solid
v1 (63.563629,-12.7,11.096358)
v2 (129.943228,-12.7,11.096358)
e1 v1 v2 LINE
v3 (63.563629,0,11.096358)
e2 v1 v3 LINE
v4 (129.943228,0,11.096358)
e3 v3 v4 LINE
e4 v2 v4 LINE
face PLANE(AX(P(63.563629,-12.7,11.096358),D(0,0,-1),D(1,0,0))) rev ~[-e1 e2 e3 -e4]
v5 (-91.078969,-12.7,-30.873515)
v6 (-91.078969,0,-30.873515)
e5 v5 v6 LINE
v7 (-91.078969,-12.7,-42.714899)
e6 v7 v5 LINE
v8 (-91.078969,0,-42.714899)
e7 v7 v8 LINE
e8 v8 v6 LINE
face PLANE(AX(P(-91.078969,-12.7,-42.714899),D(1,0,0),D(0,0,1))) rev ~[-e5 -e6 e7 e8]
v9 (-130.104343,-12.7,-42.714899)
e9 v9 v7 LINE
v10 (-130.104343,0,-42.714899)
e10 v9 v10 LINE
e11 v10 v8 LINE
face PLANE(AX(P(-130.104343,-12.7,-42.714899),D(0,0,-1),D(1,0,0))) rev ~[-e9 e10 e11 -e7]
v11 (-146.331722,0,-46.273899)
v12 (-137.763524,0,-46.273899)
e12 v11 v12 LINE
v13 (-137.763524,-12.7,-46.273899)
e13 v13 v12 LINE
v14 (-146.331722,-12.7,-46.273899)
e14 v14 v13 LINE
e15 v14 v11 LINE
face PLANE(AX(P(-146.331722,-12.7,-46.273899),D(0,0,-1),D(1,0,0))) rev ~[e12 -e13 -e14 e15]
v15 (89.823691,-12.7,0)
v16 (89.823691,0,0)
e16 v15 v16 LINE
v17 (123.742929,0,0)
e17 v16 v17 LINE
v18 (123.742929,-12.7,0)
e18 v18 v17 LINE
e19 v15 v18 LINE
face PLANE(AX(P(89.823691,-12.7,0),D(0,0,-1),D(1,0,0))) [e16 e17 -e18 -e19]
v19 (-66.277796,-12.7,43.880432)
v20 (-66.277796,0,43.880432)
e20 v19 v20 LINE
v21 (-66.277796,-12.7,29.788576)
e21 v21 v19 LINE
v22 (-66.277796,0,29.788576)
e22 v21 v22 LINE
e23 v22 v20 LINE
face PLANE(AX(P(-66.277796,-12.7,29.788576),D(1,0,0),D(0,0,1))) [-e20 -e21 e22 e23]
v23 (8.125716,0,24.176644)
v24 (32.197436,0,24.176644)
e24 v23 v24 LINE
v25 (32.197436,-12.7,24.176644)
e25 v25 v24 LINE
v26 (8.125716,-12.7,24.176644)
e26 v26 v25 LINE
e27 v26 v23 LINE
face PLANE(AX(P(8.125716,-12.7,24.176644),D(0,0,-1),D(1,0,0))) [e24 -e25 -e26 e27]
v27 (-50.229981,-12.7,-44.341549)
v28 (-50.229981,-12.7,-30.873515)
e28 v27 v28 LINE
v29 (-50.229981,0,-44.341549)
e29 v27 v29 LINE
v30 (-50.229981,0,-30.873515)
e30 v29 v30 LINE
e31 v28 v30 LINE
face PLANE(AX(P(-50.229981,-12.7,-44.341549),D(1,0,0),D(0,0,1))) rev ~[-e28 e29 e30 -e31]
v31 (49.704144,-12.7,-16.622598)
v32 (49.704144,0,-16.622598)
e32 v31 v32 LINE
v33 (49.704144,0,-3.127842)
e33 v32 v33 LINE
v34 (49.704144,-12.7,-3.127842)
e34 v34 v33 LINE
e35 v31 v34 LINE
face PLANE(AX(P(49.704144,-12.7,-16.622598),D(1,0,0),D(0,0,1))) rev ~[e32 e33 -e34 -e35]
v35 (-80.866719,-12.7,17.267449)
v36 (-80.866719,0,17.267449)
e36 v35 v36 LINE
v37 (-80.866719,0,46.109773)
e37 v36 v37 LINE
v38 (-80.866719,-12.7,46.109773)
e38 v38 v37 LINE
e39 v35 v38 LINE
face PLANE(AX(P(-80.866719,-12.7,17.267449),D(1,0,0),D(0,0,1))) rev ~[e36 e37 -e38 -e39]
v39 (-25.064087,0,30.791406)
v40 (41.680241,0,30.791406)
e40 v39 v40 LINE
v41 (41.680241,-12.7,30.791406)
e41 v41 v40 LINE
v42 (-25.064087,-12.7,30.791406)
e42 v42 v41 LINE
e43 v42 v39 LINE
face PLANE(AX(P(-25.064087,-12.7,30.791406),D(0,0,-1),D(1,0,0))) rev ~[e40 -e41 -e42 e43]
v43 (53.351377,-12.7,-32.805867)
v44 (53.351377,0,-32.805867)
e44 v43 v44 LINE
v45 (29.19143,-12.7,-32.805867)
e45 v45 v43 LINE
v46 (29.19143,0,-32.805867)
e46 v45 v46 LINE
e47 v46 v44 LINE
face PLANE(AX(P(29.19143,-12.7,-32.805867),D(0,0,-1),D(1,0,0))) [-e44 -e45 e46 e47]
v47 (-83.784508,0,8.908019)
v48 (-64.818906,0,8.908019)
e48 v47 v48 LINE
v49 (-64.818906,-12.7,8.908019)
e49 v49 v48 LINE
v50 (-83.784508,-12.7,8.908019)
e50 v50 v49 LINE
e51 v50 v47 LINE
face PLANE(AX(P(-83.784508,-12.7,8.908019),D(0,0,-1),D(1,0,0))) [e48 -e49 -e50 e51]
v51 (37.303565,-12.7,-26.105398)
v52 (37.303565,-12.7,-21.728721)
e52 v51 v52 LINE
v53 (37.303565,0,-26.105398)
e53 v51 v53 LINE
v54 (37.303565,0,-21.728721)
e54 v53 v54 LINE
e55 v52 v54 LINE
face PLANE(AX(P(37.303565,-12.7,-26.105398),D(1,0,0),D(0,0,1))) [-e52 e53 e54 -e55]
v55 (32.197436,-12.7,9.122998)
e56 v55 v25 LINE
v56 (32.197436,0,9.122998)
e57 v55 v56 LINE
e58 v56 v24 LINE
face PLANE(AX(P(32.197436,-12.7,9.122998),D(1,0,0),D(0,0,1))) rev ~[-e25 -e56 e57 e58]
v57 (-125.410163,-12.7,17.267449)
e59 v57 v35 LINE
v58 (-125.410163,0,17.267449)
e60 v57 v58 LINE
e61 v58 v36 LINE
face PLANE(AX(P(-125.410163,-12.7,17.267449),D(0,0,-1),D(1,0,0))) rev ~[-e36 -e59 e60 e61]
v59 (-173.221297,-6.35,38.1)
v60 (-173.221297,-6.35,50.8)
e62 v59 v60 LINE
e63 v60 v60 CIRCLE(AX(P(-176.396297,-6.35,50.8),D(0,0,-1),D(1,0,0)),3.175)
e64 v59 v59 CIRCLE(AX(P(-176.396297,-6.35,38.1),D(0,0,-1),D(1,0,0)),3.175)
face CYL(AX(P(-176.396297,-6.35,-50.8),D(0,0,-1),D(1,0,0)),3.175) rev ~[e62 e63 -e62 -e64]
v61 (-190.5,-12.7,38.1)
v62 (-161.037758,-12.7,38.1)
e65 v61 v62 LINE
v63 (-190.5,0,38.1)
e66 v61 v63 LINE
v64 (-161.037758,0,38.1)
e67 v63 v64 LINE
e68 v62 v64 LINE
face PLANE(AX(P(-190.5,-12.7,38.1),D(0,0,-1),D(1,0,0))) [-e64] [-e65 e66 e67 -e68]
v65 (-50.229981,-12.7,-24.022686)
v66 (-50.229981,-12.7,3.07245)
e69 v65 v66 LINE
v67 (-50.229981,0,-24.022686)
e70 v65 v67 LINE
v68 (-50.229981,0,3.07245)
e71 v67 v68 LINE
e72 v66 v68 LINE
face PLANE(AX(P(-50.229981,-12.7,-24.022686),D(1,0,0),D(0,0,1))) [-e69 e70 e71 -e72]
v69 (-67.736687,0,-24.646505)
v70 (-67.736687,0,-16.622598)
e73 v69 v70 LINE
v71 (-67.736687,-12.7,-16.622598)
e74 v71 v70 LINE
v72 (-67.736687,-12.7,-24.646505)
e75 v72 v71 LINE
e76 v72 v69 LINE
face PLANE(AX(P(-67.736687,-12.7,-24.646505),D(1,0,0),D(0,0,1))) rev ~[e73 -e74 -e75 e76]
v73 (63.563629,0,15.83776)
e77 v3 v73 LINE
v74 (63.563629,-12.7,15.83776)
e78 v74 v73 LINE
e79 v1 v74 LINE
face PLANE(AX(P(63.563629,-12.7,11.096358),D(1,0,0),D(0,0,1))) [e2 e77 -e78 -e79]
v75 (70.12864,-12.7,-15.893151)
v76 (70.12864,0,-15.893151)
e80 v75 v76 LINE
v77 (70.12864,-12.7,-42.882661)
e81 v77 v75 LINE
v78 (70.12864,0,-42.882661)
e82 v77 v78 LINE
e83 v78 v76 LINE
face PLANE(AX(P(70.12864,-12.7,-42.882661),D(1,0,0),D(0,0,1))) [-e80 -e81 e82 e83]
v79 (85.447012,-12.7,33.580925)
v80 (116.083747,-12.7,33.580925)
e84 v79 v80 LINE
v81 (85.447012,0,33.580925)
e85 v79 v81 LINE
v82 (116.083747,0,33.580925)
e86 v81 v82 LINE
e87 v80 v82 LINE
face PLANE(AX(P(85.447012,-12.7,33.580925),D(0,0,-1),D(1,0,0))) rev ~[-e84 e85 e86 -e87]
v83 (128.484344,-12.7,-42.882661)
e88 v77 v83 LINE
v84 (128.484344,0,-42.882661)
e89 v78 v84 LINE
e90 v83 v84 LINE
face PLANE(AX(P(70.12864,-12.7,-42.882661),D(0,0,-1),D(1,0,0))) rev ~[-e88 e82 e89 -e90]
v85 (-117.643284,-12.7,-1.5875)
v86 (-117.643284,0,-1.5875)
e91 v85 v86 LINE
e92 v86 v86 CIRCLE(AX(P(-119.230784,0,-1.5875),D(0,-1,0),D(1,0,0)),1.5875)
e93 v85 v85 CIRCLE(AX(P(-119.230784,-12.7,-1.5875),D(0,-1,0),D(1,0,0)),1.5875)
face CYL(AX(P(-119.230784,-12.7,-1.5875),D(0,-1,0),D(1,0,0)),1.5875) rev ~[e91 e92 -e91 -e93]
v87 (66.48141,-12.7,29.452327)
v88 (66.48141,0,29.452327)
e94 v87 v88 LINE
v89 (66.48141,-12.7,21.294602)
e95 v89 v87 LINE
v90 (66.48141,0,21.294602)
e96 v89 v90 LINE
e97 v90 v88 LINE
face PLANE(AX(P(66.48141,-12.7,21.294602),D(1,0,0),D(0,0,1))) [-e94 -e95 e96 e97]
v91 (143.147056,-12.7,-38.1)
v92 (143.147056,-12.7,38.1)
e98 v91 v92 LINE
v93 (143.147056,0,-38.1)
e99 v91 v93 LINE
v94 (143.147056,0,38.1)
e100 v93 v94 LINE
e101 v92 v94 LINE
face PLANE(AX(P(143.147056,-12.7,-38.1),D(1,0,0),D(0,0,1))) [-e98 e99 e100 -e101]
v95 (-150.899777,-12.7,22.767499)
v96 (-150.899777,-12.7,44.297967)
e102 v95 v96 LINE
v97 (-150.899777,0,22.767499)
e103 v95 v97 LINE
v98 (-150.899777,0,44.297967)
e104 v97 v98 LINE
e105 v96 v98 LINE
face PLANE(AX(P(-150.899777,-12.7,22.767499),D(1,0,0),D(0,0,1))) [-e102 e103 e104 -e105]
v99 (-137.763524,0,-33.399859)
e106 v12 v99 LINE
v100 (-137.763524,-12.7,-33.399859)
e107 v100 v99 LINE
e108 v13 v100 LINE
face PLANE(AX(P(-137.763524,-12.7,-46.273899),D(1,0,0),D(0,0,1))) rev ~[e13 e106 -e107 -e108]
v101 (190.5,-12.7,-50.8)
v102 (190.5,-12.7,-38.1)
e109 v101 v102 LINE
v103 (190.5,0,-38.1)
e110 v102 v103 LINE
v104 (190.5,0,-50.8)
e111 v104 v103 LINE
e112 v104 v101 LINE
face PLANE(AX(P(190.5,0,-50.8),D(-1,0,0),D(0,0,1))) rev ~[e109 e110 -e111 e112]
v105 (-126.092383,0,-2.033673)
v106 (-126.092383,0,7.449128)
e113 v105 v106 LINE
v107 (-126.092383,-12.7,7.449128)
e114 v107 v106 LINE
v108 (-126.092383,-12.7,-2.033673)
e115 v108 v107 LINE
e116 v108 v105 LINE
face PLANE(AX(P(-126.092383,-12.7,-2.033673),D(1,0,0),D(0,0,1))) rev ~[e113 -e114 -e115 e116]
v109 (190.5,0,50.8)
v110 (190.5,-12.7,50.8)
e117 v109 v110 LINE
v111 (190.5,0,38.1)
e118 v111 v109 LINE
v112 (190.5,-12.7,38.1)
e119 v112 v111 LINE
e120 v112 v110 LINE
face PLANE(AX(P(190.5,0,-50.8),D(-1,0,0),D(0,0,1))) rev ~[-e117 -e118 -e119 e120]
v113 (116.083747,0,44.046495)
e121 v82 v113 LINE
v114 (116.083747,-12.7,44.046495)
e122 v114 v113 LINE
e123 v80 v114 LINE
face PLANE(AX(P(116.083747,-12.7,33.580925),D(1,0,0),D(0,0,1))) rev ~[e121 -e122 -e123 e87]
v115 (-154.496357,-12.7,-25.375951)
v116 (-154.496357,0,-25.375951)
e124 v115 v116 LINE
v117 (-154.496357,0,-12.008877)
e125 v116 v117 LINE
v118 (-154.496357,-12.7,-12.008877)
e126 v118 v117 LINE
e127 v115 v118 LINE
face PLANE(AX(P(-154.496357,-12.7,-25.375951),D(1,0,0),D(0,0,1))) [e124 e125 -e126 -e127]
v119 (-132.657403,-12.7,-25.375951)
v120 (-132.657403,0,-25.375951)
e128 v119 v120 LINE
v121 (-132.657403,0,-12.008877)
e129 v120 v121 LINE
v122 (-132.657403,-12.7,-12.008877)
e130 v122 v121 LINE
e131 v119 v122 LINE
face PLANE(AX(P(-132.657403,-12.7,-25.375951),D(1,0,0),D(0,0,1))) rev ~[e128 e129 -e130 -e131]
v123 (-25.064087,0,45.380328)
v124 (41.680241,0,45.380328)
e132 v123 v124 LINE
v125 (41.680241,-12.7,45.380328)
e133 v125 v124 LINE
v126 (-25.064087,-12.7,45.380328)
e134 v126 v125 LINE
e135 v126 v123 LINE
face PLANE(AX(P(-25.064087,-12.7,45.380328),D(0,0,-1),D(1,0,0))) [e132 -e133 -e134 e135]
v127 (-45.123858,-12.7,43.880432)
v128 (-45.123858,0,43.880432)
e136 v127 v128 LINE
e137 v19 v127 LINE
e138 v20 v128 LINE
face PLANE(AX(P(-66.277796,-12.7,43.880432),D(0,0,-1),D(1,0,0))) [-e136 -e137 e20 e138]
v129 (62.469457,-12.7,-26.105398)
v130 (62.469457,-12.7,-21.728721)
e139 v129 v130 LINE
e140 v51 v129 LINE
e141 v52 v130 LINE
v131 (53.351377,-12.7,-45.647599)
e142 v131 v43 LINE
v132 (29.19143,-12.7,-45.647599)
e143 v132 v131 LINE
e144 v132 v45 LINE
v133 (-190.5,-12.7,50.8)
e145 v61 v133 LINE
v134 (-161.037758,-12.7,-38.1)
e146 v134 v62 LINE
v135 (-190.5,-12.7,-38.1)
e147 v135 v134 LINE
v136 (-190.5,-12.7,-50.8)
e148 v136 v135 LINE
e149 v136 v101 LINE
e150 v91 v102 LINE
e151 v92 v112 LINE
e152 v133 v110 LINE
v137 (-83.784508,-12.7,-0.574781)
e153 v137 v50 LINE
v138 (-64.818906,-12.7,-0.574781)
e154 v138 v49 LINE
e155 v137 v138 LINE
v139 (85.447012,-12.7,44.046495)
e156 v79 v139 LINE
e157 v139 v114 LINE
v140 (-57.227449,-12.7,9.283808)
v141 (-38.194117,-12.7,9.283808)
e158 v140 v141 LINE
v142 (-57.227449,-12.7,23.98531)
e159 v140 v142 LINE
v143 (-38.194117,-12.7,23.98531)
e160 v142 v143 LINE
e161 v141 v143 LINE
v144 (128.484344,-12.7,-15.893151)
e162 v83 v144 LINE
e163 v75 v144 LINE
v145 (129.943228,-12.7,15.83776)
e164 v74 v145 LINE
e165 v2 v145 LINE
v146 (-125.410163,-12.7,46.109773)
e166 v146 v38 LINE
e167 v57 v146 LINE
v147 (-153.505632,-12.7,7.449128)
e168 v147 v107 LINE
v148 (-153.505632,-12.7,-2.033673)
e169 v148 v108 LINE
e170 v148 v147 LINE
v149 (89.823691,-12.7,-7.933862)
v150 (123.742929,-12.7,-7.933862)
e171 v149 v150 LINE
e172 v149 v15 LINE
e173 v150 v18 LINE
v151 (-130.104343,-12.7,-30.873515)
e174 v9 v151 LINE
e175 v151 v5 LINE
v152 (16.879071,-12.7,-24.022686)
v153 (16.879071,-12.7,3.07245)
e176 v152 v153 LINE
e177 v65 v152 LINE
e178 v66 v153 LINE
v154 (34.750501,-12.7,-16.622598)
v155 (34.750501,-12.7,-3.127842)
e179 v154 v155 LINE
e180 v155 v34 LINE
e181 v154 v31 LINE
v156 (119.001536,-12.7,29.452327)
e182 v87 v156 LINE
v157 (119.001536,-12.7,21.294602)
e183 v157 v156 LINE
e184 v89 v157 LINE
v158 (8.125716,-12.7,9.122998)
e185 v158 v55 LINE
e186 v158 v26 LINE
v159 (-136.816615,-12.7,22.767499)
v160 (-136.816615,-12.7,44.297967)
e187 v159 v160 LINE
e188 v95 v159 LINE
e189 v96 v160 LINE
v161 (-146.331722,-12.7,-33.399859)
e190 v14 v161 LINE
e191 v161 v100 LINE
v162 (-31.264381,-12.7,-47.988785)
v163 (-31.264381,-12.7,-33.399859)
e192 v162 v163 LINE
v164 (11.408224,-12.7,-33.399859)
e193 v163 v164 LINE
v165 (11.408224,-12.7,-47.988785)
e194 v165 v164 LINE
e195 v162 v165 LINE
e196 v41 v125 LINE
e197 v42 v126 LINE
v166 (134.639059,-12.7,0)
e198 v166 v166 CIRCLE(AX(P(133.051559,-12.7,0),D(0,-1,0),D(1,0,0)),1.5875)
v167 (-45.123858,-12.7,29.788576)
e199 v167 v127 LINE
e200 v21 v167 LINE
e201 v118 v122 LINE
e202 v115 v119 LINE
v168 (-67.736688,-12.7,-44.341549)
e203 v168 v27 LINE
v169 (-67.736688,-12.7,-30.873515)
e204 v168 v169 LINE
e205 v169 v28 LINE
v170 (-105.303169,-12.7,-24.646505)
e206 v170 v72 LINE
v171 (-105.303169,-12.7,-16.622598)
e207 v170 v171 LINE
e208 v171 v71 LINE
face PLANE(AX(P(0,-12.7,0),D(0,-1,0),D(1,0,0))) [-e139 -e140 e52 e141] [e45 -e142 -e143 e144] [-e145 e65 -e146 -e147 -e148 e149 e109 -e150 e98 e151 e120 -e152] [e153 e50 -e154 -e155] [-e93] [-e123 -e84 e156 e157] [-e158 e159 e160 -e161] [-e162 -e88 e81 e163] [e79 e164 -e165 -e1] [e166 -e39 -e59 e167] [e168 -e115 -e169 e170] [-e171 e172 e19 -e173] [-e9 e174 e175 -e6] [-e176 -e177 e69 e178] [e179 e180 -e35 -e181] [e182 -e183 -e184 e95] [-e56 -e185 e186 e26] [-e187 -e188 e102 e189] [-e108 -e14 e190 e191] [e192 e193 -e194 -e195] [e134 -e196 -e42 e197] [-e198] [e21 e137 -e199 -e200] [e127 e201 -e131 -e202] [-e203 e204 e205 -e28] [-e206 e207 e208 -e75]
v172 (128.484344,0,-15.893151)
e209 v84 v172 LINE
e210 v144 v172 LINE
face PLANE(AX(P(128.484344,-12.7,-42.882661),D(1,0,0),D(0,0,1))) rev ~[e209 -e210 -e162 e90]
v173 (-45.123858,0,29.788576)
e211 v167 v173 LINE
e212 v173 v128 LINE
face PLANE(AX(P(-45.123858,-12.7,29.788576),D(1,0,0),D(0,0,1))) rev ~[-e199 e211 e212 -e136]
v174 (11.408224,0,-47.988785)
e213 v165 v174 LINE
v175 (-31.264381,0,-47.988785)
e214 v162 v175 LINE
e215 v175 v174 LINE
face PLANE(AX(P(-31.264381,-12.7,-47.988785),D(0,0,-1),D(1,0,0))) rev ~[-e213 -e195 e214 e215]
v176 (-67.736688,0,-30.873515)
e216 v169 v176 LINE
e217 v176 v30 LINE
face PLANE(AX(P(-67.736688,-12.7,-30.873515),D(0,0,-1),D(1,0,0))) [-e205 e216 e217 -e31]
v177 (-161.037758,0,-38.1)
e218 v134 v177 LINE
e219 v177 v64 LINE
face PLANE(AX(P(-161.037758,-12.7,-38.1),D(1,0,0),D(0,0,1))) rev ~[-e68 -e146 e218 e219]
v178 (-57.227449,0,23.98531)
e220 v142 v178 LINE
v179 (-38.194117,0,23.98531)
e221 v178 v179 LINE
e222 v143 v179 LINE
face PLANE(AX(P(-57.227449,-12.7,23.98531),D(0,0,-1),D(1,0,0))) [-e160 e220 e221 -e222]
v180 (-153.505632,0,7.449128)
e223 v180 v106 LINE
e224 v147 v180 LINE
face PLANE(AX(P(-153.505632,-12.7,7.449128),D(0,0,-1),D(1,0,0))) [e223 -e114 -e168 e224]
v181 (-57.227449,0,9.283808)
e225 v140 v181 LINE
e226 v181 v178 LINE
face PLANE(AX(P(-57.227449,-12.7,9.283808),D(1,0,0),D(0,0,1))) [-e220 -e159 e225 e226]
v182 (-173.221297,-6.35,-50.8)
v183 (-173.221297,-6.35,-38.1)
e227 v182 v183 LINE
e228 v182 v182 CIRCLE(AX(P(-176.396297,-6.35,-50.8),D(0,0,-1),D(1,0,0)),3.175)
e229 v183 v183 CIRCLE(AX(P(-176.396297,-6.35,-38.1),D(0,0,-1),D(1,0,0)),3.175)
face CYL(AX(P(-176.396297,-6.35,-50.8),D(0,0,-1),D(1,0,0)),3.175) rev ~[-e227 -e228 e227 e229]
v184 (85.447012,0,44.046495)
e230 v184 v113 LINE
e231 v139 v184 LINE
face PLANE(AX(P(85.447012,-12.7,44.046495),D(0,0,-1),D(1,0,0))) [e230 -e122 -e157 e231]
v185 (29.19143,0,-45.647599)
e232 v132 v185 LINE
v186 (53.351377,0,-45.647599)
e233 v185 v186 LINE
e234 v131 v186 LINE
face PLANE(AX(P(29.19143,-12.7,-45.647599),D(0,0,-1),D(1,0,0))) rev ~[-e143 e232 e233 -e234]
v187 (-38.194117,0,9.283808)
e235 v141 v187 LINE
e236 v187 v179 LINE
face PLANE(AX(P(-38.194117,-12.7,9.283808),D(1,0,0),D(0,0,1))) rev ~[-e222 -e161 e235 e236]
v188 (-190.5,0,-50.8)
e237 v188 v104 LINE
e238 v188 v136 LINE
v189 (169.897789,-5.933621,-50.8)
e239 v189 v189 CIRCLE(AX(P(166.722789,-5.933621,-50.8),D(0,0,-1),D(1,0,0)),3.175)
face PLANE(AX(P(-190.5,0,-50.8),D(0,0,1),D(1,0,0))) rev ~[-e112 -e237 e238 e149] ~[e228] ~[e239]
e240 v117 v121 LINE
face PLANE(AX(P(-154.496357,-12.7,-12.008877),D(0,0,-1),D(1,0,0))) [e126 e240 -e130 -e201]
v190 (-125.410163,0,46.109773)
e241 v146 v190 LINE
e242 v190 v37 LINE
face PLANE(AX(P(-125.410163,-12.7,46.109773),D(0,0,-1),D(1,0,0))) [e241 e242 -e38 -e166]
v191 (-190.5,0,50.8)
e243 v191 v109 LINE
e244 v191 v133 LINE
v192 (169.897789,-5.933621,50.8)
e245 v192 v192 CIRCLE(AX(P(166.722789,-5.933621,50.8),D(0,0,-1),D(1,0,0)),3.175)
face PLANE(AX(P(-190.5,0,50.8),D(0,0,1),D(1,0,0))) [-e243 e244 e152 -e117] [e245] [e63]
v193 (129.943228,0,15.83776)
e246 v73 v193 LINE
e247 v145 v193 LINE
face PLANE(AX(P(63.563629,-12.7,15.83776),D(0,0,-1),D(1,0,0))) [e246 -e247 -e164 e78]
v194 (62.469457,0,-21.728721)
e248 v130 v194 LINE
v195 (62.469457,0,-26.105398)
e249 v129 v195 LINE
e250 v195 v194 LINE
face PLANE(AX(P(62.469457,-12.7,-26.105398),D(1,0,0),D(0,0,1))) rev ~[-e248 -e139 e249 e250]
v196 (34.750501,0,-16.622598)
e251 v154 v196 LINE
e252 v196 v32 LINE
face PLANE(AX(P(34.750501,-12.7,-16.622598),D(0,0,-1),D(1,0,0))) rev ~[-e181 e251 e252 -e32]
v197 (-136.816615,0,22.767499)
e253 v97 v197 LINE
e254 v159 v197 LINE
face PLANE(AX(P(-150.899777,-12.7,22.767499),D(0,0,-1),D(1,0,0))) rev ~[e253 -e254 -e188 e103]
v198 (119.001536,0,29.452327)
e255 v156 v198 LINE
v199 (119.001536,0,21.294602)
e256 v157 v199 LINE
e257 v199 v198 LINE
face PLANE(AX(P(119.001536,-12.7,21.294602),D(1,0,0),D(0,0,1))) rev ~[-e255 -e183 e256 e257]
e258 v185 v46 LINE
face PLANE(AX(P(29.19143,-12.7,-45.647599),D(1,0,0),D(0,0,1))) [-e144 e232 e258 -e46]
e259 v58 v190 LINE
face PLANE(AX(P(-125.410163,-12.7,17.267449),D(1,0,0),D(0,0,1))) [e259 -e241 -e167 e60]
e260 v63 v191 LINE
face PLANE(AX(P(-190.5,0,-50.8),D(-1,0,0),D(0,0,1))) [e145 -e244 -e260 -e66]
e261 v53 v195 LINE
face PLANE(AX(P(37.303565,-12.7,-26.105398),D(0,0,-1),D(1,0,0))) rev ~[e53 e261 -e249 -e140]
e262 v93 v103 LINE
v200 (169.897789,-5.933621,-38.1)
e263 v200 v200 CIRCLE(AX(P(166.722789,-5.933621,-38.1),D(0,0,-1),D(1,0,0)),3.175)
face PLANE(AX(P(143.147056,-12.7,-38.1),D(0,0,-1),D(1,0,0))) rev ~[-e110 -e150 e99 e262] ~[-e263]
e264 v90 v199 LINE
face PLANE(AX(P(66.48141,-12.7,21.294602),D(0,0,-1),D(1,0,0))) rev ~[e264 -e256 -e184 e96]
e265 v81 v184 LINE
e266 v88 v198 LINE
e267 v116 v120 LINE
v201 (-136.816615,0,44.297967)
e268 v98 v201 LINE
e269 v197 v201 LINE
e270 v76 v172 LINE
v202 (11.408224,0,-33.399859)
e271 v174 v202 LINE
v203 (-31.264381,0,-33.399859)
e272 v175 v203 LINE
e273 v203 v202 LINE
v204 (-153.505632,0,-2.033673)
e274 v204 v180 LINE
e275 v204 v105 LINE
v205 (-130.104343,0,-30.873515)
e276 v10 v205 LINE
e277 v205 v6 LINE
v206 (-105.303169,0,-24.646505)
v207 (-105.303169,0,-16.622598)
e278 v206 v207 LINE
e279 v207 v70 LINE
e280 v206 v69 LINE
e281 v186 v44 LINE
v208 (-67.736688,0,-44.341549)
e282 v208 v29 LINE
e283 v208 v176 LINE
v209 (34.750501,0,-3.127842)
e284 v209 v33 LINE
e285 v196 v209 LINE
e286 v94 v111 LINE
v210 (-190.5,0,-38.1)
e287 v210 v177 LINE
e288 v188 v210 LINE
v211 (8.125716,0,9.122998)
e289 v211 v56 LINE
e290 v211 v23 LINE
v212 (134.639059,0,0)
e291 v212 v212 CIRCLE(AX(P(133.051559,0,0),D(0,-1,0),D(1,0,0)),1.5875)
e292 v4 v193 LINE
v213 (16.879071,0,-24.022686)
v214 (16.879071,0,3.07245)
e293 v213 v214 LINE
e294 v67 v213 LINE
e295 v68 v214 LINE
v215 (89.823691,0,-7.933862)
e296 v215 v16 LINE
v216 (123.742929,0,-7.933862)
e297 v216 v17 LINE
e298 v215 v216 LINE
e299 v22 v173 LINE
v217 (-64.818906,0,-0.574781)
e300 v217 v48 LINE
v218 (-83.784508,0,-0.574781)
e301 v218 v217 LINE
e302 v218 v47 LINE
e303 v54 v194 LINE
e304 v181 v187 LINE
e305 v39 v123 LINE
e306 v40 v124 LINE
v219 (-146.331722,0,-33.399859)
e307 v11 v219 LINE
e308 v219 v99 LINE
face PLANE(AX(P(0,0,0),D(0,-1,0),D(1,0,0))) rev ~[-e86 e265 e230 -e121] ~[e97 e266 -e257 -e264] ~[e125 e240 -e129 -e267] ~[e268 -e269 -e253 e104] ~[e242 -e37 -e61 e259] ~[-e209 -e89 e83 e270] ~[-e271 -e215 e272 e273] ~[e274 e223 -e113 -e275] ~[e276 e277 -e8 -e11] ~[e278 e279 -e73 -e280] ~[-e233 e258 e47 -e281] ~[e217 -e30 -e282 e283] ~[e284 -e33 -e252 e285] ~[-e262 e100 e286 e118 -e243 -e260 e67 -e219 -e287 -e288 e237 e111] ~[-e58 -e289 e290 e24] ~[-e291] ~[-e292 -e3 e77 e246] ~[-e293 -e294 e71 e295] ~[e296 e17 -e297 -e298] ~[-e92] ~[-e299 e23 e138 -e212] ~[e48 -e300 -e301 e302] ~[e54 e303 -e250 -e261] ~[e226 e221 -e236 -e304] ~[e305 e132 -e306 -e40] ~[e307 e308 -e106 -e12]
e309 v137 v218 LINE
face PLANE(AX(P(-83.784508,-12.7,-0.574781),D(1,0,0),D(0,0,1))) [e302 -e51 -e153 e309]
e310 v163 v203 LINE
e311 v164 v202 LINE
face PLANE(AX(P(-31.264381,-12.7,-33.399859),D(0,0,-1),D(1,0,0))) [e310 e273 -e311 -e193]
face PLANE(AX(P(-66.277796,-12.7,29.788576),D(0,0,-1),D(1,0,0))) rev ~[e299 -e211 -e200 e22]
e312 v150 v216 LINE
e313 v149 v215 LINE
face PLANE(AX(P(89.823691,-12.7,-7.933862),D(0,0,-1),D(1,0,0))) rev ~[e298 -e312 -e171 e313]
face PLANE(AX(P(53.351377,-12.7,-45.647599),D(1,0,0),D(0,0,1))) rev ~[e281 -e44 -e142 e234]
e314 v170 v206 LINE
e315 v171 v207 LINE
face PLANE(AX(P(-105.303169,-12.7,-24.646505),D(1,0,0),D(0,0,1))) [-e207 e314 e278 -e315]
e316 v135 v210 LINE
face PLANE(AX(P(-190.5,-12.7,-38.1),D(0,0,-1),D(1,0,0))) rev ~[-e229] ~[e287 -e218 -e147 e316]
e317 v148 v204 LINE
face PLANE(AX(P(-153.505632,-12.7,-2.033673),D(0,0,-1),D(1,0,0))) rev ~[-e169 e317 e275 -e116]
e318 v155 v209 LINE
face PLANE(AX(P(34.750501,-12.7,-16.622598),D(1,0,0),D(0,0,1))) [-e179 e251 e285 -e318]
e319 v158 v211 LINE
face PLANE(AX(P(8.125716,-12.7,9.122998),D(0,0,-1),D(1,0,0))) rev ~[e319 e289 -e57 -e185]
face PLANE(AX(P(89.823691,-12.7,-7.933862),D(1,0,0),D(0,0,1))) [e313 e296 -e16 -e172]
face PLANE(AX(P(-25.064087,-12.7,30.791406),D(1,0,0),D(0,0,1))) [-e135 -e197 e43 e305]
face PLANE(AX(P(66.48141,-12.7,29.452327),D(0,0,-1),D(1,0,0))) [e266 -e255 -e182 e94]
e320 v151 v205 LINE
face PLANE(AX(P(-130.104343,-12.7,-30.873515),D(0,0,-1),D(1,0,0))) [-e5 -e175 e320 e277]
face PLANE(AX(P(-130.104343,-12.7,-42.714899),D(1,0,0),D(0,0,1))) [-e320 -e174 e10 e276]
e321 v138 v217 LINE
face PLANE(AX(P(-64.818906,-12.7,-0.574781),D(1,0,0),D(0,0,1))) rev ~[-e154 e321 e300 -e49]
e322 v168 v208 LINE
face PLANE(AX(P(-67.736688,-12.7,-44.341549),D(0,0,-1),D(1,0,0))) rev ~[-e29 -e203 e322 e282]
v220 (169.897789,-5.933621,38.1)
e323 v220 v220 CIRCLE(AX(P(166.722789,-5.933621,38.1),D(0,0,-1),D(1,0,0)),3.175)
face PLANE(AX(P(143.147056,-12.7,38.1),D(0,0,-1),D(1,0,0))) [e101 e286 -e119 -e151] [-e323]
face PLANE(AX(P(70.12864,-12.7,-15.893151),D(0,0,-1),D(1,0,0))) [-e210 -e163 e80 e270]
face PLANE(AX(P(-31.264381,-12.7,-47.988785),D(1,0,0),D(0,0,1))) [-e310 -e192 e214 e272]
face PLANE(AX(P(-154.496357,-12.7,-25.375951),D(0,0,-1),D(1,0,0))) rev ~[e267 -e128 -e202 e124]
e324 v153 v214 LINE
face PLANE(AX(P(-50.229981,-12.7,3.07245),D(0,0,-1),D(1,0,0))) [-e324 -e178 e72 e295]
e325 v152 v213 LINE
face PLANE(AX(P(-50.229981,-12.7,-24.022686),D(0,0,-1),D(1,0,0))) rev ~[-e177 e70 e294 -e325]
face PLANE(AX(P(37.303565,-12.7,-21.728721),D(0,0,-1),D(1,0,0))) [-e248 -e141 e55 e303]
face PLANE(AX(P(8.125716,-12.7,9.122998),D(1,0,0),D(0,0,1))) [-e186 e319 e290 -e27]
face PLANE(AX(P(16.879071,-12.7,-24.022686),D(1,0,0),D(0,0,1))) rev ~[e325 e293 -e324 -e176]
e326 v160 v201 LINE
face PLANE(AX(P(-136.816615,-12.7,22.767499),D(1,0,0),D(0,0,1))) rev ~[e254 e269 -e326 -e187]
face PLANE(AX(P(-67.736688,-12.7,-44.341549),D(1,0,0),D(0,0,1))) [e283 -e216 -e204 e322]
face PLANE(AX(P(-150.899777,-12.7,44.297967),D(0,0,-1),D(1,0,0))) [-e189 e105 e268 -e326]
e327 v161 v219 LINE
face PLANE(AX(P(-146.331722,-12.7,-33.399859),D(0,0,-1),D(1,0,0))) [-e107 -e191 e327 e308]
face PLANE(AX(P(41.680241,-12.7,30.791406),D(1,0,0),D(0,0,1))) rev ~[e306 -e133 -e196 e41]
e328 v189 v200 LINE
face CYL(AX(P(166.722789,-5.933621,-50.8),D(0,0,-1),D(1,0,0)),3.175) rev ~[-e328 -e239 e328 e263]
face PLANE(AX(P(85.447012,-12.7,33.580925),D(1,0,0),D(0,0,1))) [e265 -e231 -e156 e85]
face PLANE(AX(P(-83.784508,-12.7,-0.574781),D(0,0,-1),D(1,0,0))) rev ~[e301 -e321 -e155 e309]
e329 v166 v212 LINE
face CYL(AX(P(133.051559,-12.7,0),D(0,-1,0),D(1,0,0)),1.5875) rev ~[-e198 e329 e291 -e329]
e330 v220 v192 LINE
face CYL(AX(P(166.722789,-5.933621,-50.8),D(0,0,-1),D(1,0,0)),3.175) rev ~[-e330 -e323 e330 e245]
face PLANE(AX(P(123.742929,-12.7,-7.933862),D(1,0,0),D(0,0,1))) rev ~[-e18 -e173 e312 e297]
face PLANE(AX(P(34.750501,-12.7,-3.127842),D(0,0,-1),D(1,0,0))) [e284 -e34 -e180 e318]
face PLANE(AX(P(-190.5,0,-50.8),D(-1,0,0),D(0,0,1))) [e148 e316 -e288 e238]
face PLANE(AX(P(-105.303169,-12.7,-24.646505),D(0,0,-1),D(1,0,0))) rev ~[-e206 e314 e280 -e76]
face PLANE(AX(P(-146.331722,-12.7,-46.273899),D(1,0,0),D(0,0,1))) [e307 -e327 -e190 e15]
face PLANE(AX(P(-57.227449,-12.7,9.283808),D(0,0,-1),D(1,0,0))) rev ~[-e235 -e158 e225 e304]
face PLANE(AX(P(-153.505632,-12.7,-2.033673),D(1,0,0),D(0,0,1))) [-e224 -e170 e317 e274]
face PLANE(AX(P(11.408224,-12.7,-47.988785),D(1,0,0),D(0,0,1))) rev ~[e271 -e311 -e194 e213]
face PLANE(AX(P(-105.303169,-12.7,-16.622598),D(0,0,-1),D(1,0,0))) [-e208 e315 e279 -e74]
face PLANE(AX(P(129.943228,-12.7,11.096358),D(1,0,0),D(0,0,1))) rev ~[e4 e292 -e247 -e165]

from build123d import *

# Parameters (mm, degrees)
F0_W     = 381
F0_H     = 101.6
F1_DEPTH = 12.7
F2_W     = 44.543445
F2_H     = 28.842324
F2_W_2   = 27.413249
F2_H_2   = 9.482801
F2_W_3   = 39.025373
F2_H_3   = 11.841384
F2_W_4   = 67.109051
F2_H_4   = 27.095137
F2_W_5   = 66.744328
F2_H_5   = 14.588922
F2_W_6   = 18.965602
F2_W_7   = 37.566483
F2_H_6   = 8.023907
F2_W_8   = 42.672605
F2_H_7   = 14.588925
F2_W_9   = 17.506707
F2_H_8   = 13.468034
F2_W_10  = 8.568198
F2_H_9   = 12.874041
F2_W_11  = 21.838954
F2_H_10  = 13.367074
F2_W_12  = 14.083162
F2_H_11  = 21.530468
F2_W_13  = 19.033331
F2_H_12  = 14.701502
F2_W_14  = 66.379599
F2_H_13  = 4.741401
F2_W_15  = 58.355704
F2_H_14  = 26.989511
F2_W_16  = 25.165893
F2_H_15  = 4.376677
F2_W_17  = 30.636735
F2_H_16  = 10.46557
F2_W_18  = 52.520126
F2_H_17  = 8.157725
F2_W_19  = 33.919238
F2_H_18  = 7.933862
F2_W_20  = 14.953643
F2_H_19  = 13.494756
F2_W_21  = 24.07172
F2_H_20  = 15.053647
F2_W_22  = 21.153938
F2_H_21  = 14.091857
F2_W_23  = 47.352944
F2_H_22  = 76.2
F2_W_24  = 24.159947
F2_H_23  = 12.841732
F2_W_25  = 29.462242
F3_DEPTH = 12.701
F4_R     = 3.175
F5_DEPTH = 101.601
F6_R     = 1.5875
F7_DEPTH = 12.701


with BuildPart() as f1:
    # F0 (on Front) → F1 (new body)
    with BuildSketch(Plane.XZ):
        Rectangle(F0_W, F0_H)
    extrude(amount=F1_DEPTH)

    # F2 (on face) → F3 (cut, through all)
    with BuildSketch(Plane.XZ.offset(12.7)):
        with Locations((-103.138441, 31.688611)):
            Rectangle(F2_W, F2_H)
        with Locations((-139.799008, 2.707727)):
            Rectangle(F2_W_2, F2_H_2)
        with Locations((-110.591656, -36.794207)):
            Rectangle(F2_W_3, F2_H_3)
        with Locations((-16.675455, -10.475118)):
            Rectangle(F2_W_4, F2_H_4)
        with Locations((8.308077, 38.085867)):
            Rectangle(F2_W_5, F2_H_5)
        with Locations((-74.301707, 4.166619)):
            Rectangle(F2_W_6, F2_H_2)
        with Locations((-86.519928, -20.634552)):
            Rectangle(F2_W_7, F2_H_6)
        with Locations((-9.928079, -40.694322)):
            Rectangle(F2_W_8, F2_H_7)
        with Locations((-58.983334, -37.607532)):
            Rectangle(F2_W_9, F2_H_8)
        with Locations((-142.047623, -39.836879)):
            Rectangle(F2_W_10, F2_H_9)
        with Locations((-143.57688, -18.692414)):
            Rectangle(F2_W_11, F2_H_10)
        with Locations((-143.858196, 33.532733)):
            Rectangle(F2_W_12, F2_H_11)
        with Locations((-47.710783, 16.634559)):
            Rectangle(F2_W_13, F2_H_12)
        with Locations((96.753428, 13.467059)):
            Rectangle(F2_W_14, F2_H_13)
        with Locations((99.306492, -29.387906)):
            Rectangle(F2_W_15, F2_H_14)
        with Locations((49.886511, -23.91706)):
            Rectangle(F2_W_16, F2_H_15)
        with Locations((100.765379, 38.81371)):
            Rectangle(F2_W_17, F2_H_16)
        with Locations((92.741473, 25.373465)):
            Rectangle(F2_W_18, F2_H_17)
        with Locations((106.78331, -3.966931)):
            Rectangle(F2_W_19, F2_H_18)
        with Locations((42.227322, -9.87522)):
            Rectangle(F2_W_20, F2_H_19)
        with Locations((20.161576, 16.649821)):
            Rectangle(F2_W_21, F2_H_20)
        with Locations((-55.700827, 36.834504)):
            Rectangle(F2_W_22, F2_H_21)
        with Locations((166.823528, 0)):
            Rectangle(F2_W_23, F2_H_22)
        with Locations((41.271404, -39.226733)):
            Rectangle(F2_W_24, F2_H_23)
        with Locations((-175.768879, 0)):
            Rectangle(F2_W_25, F2_H_22)
    extrude(amount=-F3_DEPTH, mode=Mode.SUBTRACT)

    # F4 (on face) → F5 (cut, through all)
    with BuildSketch(Plane(origin=(0, 0, -50.8), x_dir=(1, 0, 0), z_dir=(0, 0, -1))):
        with Locations((166.722789, 5.933621)):
            Circle(F4_R)
        with Locations((-176.396297, 6.35)):
            Circle(F4_R)
    extrude(amount=-F5_DEPTH, mode=Mode.SUBTRACT)

    # F6 (on face) → F7 (cut, through all)
    with BuildSketch(Plane.XZ.offset(12.7)):
        with Locations((-119.230784, -1.5875)):
            Circle(F6_R)
        with Locations((133.051559, 0)):
            Circle(F6_R)
    extrude(amount=-F7_DEPTH, mode=Mode.SUBTRACT)


solid = f1.part
